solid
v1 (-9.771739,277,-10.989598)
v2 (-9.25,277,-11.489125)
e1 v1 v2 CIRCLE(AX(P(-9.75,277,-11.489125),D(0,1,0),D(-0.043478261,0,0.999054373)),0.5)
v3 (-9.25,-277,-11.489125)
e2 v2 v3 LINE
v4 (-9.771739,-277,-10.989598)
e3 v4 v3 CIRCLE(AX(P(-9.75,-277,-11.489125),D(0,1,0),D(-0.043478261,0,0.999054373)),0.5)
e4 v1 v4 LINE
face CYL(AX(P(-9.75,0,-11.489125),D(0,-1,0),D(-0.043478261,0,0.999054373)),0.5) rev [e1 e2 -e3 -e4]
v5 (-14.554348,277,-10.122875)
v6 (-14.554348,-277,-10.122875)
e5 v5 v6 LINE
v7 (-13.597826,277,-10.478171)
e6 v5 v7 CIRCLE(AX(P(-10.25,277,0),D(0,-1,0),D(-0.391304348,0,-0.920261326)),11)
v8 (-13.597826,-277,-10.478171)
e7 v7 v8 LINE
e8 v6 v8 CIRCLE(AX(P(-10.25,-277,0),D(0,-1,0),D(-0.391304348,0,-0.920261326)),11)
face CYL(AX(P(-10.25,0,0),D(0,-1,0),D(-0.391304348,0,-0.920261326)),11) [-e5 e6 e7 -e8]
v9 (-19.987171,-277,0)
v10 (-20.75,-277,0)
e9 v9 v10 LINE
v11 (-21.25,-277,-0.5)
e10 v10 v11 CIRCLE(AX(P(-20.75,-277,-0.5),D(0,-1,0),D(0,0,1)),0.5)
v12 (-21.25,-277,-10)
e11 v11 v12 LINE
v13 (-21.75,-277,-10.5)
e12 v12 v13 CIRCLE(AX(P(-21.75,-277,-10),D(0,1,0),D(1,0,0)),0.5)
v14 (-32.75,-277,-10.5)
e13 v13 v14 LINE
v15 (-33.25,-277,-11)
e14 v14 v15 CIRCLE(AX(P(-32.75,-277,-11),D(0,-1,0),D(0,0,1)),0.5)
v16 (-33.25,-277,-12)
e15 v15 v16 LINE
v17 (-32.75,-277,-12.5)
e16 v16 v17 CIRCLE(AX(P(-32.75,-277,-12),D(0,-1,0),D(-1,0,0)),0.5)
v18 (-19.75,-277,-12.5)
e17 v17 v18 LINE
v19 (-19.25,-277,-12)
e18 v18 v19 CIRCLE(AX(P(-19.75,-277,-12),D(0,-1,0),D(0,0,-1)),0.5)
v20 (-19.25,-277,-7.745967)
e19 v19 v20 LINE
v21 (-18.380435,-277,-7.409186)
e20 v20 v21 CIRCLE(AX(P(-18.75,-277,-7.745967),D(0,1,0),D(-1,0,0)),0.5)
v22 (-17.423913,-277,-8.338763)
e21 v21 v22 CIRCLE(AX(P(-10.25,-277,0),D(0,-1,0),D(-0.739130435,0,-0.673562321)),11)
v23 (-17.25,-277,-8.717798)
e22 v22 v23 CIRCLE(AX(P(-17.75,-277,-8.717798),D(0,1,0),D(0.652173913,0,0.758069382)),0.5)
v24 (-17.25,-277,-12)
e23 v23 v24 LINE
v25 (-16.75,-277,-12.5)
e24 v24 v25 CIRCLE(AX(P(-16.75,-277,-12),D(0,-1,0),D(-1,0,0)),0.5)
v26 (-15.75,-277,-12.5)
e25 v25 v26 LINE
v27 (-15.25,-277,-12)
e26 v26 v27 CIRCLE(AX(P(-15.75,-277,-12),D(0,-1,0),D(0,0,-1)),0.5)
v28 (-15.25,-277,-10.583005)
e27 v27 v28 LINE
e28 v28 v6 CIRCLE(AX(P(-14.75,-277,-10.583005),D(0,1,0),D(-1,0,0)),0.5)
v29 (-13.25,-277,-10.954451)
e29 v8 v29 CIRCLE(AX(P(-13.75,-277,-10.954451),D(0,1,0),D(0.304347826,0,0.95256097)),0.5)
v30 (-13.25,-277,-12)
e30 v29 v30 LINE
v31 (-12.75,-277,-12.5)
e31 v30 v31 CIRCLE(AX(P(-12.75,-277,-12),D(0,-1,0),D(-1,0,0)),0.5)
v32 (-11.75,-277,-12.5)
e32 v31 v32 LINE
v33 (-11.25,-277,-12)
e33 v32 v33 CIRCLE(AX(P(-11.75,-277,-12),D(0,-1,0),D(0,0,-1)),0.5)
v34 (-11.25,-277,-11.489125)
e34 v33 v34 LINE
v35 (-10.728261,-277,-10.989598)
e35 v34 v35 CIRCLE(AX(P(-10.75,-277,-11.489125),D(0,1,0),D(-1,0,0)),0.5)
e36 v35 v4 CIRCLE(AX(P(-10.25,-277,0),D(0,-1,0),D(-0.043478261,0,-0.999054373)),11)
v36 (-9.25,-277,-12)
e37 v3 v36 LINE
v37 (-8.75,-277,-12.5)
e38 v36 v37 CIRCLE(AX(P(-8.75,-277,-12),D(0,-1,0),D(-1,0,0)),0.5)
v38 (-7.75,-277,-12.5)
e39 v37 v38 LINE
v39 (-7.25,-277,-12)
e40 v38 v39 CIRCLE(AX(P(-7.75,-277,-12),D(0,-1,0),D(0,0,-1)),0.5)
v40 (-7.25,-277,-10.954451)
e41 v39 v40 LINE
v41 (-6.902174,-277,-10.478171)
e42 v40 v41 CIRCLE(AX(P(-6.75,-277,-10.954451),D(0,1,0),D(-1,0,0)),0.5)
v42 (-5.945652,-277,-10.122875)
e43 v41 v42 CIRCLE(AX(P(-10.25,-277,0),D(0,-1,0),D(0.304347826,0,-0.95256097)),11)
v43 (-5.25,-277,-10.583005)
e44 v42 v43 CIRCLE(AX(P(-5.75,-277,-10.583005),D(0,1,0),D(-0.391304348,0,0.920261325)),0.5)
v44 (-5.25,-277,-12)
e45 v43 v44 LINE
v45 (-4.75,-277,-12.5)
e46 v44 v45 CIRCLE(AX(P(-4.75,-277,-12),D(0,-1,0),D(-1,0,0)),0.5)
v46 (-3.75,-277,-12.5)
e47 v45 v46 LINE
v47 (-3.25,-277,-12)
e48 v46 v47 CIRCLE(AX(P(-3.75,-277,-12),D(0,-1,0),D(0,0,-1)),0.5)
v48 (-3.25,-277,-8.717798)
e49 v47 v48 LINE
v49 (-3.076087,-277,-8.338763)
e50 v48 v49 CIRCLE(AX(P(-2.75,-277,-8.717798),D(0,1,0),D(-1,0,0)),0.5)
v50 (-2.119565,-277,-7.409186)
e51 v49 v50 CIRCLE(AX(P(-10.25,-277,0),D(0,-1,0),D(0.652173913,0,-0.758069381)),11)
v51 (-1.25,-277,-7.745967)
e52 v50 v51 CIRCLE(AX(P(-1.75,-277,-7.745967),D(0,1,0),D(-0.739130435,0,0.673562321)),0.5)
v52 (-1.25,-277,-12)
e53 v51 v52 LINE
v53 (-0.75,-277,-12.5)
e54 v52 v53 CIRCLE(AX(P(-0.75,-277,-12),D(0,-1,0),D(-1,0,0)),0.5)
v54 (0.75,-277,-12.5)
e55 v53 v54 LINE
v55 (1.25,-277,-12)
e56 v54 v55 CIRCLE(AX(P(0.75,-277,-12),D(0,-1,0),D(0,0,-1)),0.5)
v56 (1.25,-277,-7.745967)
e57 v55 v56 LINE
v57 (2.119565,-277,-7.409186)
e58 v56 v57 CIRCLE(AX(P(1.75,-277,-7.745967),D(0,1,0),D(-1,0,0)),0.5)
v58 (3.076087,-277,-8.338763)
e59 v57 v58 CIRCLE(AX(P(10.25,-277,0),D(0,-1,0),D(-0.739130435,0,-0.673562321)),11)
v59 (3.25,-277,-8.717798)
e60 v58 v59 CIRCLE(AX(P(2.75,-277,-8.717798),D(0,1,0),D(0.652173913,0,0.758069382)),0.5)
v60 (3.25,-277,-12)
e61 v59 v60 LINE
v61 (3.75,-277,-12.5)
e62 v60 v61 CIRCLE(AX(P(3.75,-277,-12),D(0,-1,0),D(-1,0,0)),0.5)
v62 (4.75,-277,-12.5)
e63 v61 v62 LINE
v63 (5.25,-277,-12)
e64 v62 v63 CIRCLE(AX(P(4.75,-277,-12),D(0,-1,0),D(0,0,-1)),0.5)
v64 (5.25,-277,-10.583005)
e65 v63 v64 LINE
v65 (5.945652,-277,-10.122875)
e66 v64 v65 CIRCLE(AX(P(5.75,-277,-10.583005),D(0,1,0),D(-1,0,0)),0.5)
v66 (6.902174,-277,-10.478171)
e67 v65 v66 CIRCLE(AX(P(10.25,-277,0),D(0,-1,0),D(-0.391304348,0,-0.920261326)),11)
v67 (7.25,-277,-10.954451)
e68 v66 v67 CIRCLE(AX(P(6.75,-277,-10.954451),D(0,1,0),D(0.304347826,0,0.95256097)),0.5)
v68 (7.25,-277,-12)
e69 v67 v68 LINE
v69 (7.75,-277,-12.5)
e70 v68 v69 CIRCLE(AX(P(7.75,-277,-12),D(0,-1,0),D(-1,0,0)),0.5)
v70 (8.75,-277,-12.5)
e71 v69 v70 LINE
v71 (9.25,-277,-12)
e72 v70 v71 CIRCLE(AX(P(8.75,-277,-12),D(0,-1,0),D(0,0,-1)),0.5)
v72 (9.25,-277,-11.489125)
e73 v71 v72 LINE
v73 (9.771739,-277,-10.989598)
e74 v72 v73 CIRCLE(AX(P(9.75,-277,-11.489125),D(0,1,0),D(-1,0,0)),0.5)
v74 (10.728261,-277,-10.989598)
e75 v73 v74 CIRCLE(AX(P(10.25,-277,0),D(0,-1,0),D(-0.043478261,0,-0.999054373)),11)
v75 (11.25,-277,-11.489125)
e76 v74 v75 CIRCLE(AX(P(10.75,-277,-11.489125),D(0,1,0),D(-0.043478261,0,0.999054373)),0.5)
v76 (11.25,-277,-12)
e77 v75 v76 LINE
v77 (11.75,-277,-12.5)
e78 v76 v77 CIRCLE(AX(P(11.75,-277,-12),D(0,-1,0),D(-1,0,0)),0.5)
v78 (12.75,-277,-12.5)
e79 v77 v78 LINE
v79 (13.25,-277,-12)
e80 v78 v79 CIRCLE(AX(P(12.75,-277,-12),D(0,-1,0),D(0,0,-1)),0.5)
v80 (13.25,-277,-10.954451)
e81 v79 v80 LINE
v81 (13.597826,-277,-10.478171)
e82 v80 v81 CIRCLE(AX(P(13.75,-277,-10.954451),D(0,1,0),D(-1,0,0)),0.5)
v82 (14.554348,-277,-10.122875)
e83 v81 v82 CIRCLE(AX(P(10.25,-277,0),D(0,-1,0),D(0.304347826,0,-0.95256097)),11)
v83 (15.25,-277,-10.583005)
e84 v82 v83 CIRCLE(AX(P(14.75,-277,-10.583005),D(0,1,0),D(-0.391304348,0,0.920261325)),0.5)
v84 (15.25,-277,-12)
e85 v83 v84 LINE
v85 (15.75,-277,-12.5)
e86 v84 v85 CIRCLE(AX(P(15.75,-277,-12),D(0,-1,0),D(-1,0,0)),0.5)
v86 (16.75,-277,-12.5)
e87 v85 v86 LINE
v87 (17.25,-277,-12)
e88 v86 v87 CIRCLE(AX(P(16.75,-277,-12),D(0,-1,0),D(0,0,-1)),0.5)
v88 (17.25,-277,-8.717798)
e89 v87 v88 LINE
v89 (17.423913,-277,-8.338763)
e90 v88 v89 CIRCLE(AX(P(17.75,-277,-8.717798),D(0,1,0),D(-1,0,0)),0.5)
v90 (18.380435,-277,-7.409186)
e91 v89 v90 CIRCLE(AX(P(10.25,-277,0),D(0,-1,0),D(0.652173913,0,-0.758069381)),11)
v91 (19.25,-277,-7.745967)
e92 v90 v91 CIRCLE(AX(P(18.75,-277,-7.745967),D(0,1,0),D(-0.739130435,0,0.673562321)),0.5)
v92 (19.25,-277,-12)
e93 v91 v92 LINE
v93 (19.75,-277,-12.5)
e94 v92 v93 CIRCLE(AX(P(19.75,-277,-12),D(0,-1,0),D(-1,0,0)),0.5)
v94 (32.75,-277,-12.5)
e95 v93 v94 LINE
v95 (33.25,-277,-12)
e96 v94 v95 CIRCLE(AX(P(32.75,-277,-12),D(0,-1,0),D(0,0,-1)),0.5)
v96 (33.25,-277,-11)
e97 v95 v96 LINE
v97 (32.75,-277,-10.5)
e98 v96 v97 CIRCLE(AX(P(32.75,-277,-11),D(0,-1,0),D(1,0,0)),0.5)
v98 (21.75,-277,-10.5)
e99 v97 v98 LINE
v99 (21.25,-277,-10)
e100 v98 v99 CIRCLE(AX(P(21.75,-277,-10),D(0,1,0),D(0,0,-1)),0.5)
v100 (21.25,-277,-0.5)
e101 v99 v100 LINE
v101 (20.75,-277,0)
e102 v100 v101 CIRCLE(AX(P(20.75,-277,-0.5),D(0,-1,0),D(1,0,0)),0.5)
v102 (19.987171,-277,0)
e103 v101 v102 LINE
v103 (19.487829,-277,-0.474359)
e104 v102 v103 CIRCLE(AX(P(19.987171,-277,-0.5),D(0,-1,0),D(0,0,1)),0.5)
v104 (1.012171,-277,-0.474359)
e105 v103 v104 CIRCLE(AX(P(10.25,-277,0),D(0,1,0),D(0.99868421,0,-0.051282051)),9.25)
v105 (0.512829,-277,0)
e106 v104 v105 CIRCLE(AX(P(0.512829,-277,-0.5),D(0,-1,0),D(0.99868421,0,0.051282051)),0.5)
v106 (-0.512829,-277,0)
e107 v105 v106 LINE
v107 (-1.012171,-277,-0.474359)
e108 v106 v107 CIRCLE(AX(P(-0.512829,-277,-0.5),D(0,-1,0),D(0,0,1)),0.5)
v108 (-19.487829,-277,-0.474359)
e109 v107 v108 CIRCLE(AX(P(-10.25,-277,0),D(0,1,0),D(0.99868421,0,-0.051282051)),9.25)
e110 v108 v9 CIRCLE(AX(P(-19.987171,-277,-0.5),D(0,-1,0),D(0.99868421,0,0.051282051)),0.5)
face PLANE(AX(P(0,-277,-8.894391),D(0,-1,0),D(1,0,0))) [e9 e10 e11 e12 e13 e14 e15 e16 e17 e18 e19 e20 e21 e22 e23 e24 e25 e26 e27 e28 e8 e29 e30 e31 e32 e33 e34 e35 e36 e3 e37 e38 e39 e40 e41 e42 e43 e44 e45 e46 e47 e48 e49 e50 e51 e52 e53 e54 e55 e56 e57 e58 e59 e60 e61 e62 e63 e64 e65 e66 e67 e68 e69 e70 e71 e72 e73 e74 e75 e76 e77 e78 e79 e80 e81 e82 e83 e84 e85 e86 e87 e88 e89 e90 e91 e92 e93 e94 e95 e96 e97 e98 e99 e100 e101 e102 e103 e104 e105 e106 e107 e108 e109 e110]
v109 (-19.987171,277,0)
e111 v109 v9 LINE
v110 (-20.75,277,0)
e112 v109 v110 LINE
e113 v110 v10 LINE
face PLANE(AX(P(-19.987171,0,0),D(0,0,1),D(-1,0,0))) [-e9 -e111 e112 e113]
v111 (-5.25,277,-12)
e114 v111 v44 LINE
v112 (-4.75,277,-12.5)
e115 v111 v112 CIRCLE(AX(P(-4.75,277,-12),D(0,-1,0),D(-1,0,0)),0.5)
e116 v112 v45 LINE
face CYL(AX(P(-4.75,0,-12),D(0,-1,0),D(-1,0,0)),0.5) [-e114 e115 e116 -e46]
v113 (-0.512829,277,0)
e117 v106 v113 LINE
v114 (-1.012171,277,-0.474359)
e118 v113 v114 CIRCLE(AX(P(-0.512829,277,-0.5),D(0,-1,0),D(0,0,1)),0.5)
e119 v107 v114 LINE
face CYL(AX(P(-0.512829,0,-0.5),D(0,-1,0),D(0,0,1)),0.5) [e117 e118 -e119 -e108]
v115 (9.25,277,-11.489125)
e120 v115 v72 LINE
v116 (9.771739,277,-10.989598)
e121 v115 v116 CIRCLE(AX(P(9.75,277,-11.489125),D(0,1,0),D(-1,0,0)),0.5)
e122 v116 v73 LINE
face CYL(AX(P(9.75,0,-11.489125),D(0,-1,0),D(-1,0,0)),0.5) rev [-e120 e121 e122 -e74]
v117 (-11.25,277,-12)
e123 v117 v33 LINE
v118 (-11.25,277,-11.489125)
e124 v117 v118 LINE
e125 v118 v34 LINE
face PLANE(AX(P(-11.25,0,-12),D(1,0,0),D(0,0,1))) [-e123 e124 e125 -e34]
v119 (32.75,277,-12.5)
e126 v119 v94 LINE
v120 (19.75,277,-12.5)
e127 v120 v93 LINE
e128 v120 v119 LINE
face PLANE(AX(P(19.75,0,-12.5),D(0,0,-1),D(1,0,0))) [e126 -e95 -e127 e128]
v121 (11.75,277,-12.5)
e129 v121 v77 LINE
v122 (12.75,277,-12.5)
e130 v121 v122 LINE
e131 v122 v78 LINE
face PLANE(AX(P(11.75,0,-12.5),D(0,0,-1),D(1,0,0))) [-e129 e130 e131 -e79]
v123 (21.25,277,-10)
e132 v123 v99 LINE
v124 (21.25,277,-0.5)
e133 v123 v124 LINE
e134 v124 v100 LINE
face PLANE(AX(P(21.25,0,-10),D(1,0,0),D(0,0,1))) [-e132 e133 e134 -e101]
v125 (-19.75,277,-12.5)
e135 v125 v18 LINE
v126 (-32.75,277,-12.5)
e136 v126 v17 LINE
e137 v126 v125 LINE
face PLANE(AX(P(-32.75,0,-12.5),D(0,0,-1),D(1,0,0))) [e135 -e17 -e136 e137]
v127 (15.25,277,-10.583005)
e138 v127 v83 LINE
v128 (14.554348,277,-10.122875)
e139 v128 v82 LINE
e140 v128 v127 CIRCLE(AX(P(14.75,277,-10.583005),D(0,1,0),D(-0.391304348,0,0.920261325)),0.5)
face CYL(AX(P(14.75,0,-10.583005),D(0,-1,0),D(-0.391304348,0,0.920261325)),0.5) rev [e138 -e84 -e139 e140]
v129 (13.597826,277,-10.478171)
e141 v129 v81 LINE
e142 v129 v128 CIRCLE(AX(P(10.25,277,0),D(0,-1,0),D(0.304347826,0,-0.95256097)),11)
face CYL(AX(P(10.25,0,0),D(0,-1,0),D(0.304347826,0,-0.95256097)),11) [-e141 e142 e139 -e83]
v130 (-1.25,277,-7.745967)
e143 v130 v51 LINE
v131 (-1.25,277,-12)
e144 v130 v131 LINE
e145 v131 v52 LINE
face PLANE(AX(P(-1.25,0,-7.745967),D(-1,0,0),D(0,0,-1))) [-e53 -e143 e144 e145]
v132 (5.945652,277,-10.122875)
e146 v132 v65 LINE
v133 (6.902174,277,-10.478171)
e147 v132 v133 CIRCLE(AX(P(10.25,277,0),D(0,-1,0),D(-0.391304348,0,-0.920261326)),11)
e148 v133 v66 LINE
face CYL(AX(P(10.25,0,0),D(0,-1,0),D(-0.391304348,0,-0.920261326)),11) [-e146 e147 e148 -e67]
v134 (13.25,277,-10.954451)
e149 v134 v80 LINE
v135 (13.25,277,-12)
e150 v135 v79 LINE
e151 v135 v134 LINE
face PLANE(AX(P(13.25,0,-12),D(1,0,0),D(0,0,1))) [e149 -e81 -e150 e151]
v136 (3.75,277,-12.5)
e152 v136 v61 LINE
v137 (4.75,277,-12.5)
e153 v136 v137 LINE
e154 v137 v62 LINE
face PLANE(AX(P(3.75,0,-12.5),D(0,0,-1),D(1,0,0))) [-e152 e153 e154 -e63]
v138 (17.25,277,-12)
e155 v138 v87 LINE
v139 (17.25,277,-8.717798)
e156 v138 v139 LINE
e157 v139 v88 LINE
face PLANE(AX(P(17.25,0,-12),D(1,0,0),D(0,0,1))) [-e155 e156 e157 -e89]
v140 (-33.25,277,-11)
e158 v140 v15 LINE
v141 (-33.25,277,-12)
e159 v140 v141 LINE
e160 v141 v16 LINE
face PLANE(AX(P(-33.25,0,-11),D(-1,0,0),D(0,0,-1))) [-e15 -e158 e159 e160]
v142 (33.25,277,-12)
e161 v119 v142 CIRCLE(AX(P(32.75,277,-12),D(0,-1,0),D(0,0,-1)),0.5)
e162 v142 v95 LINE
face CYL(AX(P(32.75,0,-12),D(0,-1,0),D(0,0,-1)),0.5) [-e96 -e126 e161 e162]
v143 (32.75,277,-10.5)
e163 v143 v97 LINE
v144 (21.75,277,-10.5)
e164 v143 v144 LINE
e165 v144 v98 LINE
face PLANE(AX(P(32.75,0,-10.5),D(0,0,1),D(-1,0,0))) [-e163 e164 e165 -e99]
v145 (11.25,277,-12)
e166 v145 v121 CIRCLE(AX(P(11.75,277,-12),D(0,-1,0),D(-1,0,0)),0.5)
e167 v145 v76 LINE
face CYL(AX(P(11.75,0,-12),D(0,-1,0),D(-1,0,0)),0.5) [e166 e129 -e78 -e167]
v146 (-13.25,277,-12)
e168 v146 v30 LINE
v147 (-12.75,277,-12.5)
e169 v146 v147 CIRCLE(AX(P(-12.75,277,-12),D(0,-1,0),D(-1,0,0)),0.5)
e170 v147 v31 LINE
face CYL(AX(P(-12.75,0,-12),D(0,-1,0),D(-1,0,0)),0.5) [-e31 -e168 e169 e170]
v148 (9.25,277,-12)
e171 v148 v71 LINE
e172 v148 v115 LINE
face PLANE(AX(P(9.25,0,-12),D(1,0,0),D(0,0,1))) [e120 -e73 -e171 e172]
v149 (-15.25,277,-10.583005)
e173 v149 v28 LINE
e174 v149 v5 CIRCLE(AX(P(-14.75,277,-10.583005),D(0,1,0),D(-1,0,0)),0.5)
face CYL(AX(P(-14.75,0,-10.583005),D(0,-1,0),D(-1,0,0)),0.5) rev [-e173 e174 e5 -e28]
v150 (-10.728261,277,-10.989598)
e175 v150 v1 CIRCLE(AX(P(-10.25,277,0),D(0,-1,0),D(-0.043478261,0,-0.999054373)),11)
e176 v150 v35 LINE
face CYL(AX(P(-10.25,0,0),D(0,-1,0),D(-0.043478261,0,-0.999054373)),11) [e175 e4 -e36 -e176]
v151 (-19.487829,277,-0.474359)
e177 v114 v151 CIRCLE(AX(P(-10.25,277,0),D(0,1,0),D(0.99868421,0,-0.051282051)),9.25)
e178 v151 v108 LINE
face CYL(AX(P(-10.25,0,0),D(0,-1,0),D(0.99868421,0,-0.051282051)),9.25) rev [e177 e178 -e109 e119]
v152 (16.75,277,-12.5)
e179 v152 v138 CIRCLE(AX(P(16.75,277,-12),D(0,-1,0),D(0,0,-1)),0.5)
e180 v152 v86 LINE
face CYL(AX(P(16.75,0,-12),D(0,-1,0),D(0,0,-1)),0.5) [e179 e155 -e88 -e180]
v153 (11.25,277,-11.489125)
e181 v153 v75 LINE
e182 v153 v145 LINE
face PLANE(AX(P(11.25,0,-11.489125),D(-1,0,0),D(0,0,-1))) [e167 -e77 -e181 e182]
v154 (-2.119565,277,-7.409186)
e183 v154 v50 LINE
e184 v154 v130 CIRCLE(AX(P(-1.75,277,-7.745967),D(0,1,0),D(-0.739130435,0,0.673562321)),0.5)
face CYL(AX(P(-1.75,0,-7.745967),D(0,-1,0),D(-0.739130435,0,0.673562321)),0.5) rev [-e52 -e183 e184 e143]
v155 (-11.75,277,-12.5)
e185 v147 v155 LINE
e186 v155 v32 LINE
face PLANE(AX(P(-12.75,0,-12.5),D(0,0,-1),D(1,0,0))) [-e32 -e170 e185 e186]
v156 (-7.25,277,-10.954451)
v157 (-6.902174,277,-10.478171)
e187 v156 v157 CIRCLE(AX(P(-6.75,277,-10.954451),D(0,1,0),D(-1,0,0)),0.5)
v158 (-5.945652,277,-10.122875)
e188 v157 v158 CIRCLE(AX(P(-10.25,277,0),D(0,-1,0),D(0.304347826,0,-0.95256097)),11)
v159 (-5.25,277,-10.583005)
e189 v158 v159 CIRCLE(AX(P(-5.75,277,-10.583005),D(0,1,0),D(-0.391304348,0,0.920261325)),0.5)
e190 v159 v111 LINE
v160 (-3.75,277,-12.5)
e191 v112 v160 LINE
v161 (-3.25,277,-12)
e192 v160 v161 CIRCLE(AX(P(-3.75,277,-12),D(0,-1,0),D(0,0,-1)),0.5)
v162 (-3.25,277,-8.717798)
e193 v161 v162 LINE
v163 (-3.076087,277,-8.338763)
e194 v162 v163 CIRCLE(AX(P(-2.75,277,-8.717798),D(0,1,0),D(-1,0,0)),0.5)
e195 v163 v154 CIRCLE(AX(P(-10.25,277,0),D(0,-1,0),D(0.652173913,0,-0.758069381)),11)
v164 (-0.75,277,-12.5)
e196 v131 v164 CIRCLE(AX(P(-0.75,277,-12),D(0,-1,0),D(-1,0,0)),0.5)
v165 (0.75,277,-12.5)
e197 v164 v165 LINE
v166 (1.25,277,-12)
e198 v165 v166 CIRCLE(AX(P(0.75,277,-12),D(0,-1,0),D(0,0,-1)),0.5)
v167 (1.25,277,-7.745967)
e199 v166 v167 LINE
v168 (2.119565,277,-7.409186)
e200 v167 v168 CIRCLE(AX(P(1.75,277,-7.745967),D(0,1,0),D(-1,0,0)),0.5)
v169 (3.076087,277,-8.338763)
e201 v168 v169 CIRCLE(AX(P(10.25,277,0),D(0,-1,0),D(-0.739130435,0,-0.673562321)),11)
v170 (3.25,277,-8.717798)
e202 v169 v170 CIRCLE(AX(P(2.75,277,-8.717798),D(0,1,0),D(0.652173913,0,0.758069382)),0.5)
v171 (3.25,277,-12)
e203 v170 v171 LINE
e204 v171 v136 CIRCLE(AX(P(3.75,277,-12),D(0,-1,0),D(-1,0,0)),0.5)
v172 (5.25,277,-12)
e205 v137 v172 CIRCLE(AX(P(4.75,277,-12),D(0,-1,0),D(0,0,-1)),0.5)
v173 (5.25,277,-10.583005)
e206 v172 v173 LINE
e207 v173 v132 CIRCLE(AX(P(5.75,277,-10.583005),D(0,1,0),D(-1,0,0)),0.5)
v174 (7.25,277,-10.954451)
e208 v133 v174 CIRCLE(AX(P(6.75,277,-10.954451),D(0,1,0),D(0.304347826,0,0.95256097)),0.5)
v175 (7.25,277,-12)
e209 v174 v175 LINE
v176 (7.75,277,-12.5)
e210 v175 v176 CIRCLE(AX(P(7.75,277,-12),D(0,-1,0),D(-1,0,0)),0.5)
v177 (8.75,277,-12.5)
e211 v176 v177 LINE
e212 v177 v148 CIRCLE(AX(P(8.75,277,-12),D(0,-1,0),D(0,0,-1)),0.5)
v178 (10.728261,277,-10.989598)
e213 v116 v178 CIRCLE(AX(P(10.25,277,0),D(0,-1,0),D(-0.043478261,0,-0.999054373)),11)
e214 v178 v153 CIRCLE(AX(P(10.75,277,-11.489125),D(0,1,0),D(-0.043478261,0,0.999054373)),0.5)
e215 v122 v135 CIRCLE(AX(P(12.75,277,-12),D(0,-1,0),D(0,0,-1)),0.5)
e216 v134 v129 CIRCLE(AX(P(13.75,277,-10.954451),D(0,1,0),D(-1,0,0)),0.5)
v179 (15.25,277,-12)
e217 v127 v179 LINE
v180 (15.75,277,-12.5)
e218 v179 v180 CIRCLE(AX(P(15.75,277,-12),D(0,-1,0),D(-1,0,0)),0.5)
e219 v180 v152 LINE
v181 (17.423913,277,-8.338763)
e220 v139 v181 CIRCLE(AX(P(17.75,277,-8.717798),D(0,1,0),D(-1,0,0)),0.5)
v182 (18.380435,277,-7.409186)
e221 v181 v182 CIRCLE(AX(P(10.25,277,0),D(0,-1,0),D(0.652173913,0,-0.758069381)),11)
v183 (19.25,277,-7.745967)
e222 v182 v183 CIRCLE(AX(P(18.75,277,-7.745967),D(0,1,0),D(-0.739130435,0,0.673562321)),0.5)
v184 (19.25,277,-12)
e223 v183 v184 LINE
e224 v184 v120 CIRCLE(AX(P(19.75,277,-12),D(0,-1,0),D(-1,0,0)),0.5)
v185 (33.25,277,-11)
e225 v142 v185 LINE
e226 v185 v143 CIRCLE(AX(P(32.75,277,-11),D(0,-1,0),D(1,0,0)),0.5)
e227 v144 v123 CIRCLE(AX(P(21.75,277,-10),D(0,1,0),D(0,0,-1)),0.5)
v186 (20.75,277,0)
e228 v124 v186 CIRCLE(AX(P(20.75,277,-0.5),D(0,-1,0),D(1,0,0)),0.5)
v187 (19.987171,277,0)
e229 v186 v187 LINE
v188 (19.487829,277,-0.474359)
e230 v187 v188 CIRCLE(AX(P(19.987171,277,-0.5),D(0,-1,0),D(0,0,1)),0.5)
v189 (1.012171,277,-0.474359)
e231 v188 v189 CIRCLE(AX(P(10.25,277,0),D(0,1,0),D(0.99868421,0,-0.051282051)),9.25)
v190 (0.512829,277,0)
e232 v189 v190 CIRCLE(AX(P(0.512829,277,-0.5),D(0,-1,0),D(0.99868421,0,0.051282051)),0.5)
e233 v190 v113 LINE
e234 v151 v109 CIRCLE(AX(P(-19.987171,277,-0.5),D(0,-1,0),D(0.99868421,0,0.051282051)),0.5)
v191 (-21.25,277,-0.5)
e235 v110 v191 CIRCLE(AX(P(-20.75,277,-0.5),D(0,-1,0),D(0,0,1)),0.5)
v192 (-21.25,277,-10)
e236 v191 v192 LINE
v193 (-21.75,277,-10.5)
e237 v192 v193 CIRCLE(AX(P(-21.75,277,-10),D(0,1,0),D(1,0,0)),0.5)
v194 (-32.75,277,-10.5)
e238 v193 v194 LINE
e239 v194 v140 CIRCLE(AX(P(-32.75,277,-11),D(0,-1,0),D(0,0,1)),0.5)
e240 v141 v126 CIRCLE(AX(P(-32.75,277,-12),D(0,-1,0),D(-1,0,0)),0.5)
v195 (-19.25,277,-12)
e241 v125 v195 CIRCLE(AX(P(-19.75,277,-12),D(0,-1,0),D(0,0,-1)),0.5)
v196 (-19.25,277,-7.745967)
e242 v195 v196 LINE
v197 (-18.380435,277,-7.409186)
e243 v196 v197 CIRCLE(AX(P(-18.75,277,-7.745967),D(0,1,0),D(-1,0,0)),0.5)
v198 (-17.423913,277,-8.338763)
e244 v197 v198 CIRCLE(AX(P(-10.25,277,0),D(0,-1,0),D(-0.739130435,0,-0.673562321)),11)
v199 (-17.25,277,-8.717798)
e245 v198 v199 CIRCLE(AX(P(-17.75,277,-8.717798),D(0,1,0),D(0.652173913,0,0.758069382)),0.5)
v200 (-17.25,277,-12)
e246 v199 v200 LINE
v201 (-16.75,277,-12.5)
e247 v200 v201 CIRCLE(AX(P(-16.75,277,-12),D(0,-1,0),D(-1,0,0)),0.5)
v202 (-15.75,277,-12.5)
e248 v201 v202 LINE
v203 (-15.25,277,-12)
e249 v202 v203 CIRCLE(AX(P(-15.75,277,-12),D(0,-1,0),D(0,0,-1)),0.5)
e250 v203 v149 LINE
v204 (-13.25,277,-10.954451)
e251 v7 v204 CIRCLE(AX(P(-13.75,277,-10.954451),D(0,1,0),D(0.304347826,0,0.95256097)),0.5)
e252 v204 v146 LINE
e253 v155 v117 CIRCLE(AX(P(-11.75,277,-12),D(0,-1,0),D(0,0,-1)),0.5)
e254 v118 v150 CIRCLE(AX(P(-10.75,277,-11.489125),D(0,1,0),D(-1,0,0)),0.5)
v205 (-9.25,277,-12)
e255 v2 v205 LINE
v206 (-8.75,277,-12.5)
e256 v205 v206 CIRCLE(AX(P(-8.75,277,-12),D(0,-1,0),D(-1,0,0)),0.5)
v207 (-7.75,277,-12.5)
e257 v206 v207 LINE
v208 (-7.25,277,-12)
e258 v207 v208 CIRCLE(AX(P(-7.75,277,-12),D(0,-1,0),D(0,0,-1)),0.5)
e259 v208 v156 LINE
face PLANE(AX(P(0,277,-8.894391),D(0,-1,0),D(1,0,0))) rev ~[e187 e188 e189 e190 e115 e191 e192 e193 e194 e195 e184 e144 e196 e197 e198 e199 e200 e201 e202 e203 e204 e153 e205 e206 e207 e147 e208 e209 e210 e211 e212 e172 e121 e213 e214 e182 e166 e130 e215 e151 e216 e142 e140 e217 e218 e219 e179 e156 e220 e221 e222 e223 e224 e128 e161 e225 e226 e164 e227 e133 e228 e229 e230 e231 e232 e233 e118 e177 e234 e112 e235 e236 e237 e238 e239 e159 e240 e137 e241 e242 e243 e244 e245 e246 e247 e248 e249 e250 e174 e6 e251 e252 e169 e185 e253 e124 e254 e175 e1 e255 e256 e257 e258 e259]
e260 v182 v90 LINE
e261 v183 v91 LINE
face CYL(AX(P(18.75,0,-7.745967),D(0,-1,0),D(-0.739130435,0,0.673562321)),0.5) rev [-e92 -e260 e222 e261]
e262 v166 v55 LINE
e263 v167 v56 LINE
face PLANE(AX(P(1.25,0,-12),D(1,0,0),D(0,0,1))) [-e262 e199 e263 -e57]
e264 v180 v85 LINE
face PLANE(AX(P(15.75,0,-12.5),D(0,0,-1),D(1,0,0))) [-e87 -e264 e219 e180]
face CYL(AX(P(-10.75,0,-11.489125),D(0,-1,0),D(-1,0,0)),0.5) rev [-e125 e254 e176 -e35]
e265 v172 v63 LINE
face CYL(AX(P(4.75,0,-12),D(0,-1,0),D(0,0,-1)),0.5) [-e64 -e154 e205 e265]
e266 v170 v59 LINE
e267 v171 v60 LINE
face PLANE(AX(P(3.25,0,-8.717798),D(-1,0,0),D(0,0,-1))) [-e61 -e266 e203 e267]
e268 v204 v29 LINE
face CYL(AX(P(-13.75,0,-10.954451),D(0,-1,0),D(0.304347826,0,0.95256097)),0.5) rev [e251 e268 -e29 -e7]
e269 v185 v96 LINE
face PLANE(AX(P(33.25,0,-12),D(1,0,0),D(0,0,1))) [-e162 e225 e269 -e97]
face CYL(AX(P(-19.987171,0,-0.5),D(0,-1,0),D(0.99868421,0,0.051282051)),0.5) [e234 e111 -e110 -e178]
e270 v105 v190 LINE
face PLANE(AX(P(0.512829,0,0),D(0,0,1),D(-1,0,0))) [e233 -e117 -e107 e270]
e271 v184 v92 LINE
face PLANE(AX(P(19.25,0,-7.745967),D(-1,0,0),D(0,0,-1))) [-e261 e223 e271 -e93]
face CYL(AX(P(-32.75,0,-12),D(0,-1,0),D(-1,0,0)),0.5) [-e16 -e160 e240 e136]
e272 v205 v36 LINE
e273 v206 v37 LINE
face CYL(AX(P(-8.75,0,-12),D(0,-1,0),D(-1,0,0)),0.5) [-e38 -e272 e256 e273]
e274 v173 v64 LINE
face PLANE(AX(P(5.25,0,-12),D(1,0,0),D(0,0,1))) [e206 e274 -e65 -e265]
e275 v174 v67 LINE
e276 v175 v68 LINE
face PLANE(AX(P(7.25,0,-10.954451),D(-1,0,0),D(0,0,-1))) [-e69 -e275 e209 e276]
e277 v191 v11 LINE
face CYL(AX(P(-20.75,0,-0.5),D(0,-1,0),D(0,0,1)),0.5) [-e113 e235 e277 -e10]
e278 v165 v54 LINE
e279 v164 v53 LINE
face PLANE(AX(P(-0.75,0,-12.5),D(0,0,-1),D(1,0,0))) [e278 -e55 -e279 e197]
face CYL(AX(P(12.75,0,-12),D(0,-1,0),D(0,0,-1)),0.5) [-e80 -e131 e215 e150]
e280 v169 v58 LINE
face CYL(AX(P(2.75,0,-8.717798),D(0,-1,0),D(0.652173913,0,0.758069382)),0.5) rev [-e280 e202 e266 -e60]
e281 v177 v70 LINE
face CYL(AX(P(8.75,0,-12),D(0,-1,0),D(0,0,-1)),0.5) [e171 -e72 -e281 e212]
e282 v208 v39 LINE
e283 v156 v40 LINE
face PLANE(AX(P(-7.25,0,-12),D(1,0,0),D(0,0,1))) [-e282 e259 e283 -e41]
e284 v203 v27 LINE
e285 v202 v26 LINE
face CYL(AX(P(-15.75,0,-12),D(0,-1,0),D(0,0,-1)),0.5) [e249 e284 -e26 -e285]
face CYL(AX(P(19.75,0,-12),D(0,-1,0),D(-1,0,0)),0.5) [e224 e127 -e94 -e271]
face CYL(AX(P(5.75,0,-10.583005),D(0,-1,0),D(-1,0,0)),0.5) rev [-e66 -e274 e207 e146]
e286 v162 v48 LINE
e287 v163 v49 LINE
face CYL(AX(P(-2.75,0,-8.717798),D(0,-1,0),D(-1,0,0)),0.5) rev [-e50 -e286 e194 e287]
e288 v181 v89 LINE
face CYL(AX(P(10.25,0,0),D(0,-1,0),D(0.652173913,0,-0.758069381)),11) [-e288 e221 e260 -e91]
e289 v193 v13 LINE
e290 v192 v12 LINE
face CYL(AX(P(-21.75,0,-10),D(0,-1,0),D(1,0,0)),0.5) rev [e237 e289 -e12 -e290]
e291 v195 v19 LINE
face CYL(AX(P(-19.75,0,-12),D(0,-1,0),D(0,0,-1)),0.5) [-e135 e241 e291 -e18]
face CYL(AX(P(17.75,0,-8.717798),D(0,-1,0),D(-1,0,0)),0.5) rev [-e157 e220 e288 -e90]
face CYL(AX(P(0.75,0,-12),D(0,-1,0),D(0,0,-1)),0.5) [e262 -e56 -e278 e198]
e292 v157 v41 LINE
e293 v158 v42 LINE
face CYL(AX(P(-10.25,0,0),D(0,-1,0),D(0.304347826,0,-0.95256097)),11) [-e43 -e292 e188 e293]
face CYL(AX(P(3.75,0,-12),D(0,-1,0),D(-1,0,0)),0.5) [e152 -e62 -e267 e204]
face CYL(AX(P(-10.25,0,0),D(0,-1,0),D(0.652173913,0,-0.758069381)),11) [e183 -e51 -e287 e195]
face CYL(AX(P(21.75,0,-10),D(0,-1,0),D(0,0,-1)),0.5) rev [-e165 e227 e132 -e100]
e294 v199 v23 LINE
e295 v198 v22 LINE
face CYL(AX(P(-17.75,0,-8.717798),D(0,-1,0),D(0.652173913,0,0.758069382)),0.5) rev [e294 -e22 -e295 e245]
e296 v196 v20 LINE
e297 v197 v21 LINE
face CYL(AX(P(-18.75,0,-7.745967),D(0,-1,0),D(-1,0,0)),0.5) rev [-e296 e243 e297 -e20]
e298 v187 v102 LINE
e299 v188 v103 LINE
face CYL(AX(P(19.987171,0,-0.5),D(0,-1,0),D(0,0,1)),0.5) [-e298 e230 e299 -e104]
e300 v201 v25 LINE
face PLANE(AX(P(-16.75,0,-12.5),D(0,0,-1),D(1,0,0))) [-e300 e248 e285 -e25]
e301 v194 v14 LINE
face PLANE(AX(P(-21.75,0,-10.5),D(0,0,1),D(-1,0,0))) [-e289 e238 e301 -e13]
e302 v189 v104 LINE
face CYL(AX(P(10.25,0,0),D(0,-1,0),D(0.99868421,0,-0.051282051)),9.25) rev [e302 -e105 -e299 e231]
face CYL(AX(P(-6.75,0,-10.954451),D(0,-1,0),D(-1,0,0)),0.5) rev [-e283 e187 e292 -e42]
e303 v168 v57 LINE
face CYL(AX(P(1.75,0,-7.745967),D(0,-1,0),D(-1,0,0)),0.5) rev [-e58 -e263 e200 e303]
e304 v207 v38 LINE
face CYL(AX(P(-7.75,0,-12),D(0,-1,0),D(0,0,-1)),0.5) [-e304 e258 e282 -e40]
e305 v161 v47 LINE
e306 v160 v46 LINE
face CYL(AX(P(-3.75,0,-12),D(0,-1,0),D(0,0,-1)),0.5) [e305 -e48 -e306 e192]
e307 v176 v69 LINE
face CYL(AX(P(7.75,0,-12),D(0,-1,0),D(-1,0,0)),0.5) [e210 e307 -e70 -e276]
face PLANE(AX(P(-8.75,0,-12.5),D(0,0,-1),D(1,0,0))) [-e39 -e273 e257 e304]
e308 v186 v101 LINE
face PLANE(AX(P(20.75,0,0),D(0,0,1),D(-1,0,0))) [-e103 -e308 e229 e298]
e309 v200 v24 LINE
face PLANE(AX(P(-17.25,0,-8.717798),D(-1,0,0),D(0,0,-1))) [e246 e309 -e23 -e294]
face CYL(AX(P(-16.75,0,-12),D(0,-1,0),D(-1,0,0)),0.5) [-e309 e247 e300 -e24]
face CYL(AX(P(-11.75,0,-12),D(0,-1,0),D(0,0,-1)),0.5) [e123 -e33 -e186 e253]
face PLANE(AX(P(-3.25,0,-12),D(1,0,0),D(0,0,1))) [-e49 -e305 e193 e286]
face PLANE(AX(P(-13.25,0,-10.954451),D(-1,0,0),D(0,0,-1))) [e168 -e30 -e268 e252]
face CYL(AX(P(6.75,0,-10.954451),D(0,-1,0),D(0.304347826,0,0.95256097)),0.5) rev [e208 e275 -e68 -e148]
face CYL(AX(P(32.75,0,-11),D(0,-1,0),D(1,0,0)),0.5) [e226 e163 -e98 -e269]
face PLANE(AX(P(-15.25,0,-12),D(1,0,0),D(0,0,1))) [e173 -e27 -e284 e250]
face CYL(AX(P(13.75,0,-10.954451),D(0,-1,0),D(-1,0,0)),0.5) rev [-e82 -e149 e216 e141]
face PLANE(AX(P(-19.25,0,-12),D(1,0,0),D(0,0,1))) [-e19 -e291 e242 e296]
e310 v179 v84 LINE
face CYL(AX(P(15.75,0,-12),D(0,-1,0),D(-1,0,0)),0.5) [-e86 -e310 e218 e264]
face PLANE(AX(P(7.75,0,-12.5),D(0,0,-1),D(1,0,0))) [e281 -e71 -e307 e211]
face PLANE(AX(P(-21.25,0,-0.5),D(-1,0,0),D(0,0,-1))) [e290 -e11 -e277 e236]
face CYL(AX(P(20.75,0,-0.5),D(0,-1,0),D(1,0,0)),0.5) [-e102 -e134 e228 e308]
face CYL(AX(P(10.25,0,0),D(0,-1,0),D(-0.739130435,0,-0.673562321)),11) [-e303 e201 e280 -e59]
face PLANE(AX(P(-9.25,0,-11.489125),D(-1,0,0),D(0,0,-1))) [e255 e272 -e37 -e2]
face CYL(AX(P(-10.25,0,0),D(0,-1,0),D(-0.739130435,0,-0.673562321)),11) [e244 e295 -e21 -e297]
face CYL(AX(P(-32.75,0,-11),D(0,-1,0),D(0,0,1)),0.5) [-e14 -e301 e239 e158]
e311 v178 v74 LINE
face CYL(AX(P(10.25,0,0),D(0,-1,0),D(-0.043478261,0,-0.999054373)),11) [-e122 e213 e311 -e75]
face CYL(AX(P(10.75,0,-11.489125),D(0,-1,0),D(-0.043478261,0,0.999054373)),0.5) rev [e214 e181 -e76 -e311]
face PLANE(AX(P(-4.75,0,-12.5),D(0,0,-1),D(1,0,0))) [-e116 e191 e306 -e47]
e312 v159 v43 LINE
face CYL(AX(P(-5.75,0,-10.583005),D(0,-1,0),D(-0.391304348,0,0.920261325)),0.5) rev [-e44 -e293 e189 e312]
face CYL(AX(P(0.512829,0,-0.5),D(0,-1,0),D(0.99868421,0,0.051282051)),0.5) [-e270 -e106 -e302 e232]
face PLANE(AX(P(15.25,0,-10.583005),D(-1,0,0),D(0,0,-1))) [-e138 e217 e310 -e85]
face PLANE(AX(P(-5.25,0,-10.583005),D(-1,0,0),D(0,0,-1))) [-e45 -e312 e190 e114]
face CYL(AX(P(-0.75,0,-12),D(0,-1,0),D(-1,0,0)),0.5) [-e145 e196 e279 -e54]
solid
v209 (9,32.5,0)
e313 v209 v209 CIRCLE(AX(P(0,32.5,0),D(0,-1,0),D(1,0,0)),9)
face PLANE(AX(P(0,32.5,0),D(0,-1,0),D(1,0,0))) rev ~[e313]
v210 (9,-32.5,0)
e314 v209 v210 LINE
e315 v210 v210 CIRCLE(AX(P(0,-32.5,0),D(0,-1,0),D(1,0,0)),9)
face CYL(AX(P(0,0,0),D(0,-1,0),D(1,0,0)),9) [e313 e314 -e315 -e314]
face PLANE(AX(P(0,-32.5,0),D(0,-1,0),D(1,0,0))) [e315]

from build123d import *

# Parameters (mm, degrees)
F1_DEPTH = 277
F2_R     = 9
F3_DEPTH = 32.5


with BuildPart() as f1:
    # F0 (on Front) → F1 (new body, symmetric)
    with BuildSketch(Plane.XZ):
        with BuildLine():
            ThreePointArc((-1.0121710579, -0.4743589744), (-10.25, -9.25), (-19.4878289421, -0.4743589744))
            ThreePointArc((-19.4878289421, -0.4743589744), (-19.6428024312, -0.137494474), (-19.9871710471, 0))
            Line((-19.9871710471, 0), (-20.75, 0))
            ThreePointArc((-20.75, 0), (-21.1035533906, -0.1464466094), (-21.25, -0.5))
            Line((-21.25, -0.5), (-21.25, -10))
            ThreePointArc((-21.25, -10), (-21.3964466094, -10.3535533906), (-21.75, -10.5))
            Line((-21.75, -10.5), (-32.75, -10.5))
            ThreePointArc((-32.75, -10.5), (-33.1035533906, -10.6464466094), (-33.25, -11))
            Line((-33.25, -11), (-33.25, -12))
            ThreePointArc((-33.25, -12), (-33.1035533906, -12.3535533906), (-32.75, -12.5))
            Line((-32.75, -12.5), (-21.25, -12.5))
            Line((-21.25, -12.5), (-19.75, -12.5))
            ThreePointArc((-19.75, -12.5), (-19.3964466094, -12.3535533906), (-19.25, -12))
            Line((-19.25, -12), (-19.25, -7.7459666924))
            ThreePointArc((-19.25, -7.7459666924), (-18.9305787796, -7.2797142883), (-18.3804347826, -7.4091855319))
            ThreePointArc((-18.3804347826, -7.4091855319), (-17.9162764269, -7.8884856434), (-17.4239130435, -8.3387631963))
            ThreePointArc((-17.4239130435, -8.3387631963), (-17.2955533704, -8.509283473), (-17.25, -8.7177978871))
            Line((-17.25, -8.7177978871), (-17.25, -12))
            ThreePointArc((-17.25, -12), (-17.1035533906, -12.3535533906), (-16.75, -12.5))
            Line((-16.75, -12.5), (-15.75, -12.5))
            ThreePointArc((-15.75, -12.5), (-15.3964466094, -12.3535533906), (-15.25, -12))
            Line((-15.25, -12), (-15.25, -10.5830052443))
            ThreePointArc((-15.25, -10.5830052443), (-15.0258386422, -10.1659764161), (-14.5543478261, -10.1228745815))
            ThreePointArc((-14.5543478261, -10.1228745815), (-14.080208901, -10.3116196485), (-13.597826087, -10.4781706653))
            ThreePointArc((-13.597826087, -10.4781706653), (-13.3462135735, -10.6595672378), (-13.25, -10.9544511501))
            Line((-13.25, -10.9544511501), (-13.25, -12))
            ThreePointArc((-13.25, -12), (-13.1035533906, -12.3535533906), (-12.75, -12.5))
            Line((-12.75, -12.5), (-11.75, -12.5))
            ThreePointArc((-11.75, -12.5), (-11.3964466094, -12.3535533906), (-11.25, -12))
            Line((-11.25, -12), (-11.25, -11.4891252931))
            ThreePointArc((-11.25, -11.4891252931), (-11.0957820374, -11.1279677338), (-10.7282608696, -10.9895981064))
            ThreePointArc((-10.7282608696, -10.9895981064), (-10.25, -11), (-9.7717391304, -10.9895981064))
            ThreePointArc((-9.7717391304, -10.9895981064), (-9.4042179626, -11.1279677338), (-9.25, -11.4891252931))
            Line((-9.25, -11.4891252931), (-9.25, -12))
            ThreePointArc((-9.25, -12), (-9.1035533906, -12.3535533906), (-8.75, -12.5))
            Line((-8.75, -12.5), (-7.75, -12.5))
            ThreePointArc((-7.75, -12.5), (-7.3964466094, -12.3535533906), (-7.25, -12))
            Line((-7.25, -12), (-7.25, -10.9544511501))
            ThreePointArc((-7.25, -10.9544511501), (-7.1537864265, -10.6595672378), (-6.902173913, -10.4781706653))
            ThreePointArc((-6.902173913, -10.4781706653), (-6.419791099, -10.3116196485), (-5.9456521739, -10.1228745815))
            ThreePointArc((-5.9456521739, -10.1228745815), (-5.4741613578, -10.1659764161), (-5.25, -10.5830052443))
            Line((-5.25, -10.5830052443), (-5.25, -12))
            ThreePointArc((-5.25, -12), (-5.1035533906, -12.3535533906), (-4.75, -12.5))
            Line((-4.75, -12.5), (-3.75, -12.5))
            ThreePointArc((-3.75, -12.5), (-3.3964466094, -12.3535533906), (-3.25, -12))
            Line((-3.25, -12), (-3.25, -8.7177978871))
            ThreePointArc((-3.25, -8.7177978871), (-3.2044466296, -8.509283473), (-3.0760869565, -8.3387631963))
            ThreePointArc((-3.0760869565, -8.3387631963), (-2.5837235731, -7.8884856434), (-2.1195652174, -7.4091855319))
            ThreePointArc((-2.1195652174, -7.4091855319), (-1.5694212204, -7.2797142883), (-1.25, -7.7459666924))
            Line((-1.25, -7.7459666924), (-1.25, -12))
            ThreePointArc((-1.25, -12), (-1.1035533906, -12.3535533906), (-0.75, -12.5))
            Line((-0.75, -12.5), (0, -12.5))
            Line((0, -12.5), (0.75, -12.5))
            ThreePointArc((0.75, -12.5), (1.1035533906, -12.3535533906), (1.25, -12))
            Line((1.25, -12), (1.25, -7.7459666924))
            ThreePointArc((1.25, -7.7459666924), (1.5694212204, -7.2797142883), (2.1195652174, -7.4091855319))
            ThreePointArc((2.1195652174, -7.4091855319), (2.5837235731, -7.8884856434), (3.0760869565, -8.3387631963))
            ThreePointArc((3.0760869565, -8.3387631963), (3.2044466296, -8.509283473), (3.25, -8.7177978871))
            Line((3.25, -8.7177978871), (3.25, -12))
            ThreePointArc((3.25, -12), (3.3964466094, -12.3535533906), (3.75, -12.5))
            Line((3.75, -12.5), (4.75, -12.5))
            ThreePointArc((4.75, -12.5), (5.1035533906, -12.3535533906), (5.25, -12))
            Line((5.25, -12), (5.25, -10.5830052443))
            ThreePointArc((5.25, -10.5830052443), (5.4741613578, -10.1659764161), (5.9456521739, -10.1228745815))
            ThreePointArc((5.9456521739, -10.1228745815), (6.419791099, -10.3116196485), (6.902173913, -10.4781706653))
            ThreePointArc((6.902173913, -10.4781706653), (7.1537864265, -10.6595672378), (7.25, -10.9544511501))
            Line((7.25, -10.9544511501), (7.25, -12))
            ThreePointArc((7.25, -12), (7.3964466094, -12.3535533906), (7.75, -12.5))
            Line((7.75, -12.5), (8.75, -12.5))
            ThreePointArc((8.75, -12.5), (9.1035533906, -12.3535533906), (9.25, -12))
            Line((9.25, -12), (9.25, -11.4891252931))
            ThreePointArc((9.25, -11.4891252931), (9.4042179626, -11.1279677338), (9.7717391304, -10.9895981064))
            ThreePointArc((9.7717391304, -10.9895981064), (10.25, -11), (10.7282608696, -10.9895981064))
            ThreePointArc((10.7282608696, -10.9895981064), (11.0957820374, -11.1279677338), (11.25, -11.4891252931))
            Line((11.25, -11.4891252931), (11.25, -12))
            ThreePointArc((11.25, -12), (11.3964466094, -12.3535533906), (11.75, -12.5))
            Line((11.75, -12.5), (12.75, -12.5))
            ThreePointArc((12.75, -12.5), (13.1035533906, -12.3535533906), (13.25, -12))
            Line((13.25, -12), (13.25, -10.9544511501))
            ThreePointArc((13.25, -10.9544511501), (13.3462135735, -10.6595672378), (13.597826087, -10.4781706653))
            ThreePointArc((13.597826087, -10.4781706653), (14.080208901, -10.3116196485), (14.5543478261, -10.1228745815))
            ThreePointArc((14.5543478261, -10.1228745815), (15.0258386422, -10.1659764161), (15.25, -10.5830052443))
            Line((15.25, -10.5830052443), (15.25, -12))
            ThreePointArc((15.25, -12), (15.3964466094, -12.3535533906), (15.75, -12.5))
            Line((15.75, -12.5), (16.75, -12.5))
            ThreePointArc((16.75, -12.5), (17.1035533906, -12.3535533906), (17.25, -12))
            Line((17.25, -12), (17.25, -8.7177978871))
            ThreePointArc((17.25, -8.7177978871), (17.2955533704, -8.509283473), (17.4239130435, -8.3387631963))
            ThreePointArc((17.4239130435, -8.3387631963), (17.9162764269, -7.8884856434), (18.3804347826, -7.4091855319))
            ThreePointArc((18.3804347826, -7.4091855319), (18.9305787796, -7.2797142883), (19.25, -7.7459666924))
            Line((19.25, -7.7459666924), (19.25, -12))
            ThreePointArc((19.25, -12), (19.3964466094, -12.3535533906), (19.75, -12.5))
            Line((19.75, -12.5), (21.25, -12.5))
            Line((21.25, -12.5), (32.75, -12.5))
            ThreePointArc((32.75, -12.5), (33.1035533906, -12.3535533906), (33.25, -12))
            Line((33.25, -12), (33.25, -11))
            ThreePointArc((33.25, -11), (33.1035533906, -10.6464466094), (32.75, -10.5))
            Line((32.75, -10.5), (21.75, -10.5))
            ThreePointArc((21.75, -10.5), (21.3964466094, -10.3535533906), (21.25, -10))
            Line((21.25, -10), (21.25, -0.5))
            ThreePointArc((21.25, -0.5), (21.1035533906, -0.1464466094), (20.75, 0))
            Line((20.75, 0), (19.9871710471, 0))
            ThreePointArc((19.9871710471, 0), (19.6428024312, -0.137494474), (19.4878289421, -0.4743589744))
            ThreePointArc((19.4878289421, -0.4743589744), (10.25, -9.25), (1.0121710579, -0.4743589744))
            ThreePointArc((1.0121710579, -0.4743589744), (0.8571975688, -0.137494474), (0.5128289529, 0))
            Line((0.5128289529, 0), (0, 0))
            Line((0, 0), (-0.5128289529, 0))
            ThreePointArc((-0.5128289529, 0), (-0.8571975688, -0.137494474), (-1.0121710579, -0.4743589744))
        make_face()
    extrude(amount=F1_DEPTH, both=True)


with BuildPart() as f3:
    # F2 (on Front) → F3 (new body, symmetric)
    with BuildSketch(Plane.XZ):
        Circle(F2_R)
    extrude(amount=F3_DEPTH, both=True)


solid = Compound([f1.part, f3.part])
